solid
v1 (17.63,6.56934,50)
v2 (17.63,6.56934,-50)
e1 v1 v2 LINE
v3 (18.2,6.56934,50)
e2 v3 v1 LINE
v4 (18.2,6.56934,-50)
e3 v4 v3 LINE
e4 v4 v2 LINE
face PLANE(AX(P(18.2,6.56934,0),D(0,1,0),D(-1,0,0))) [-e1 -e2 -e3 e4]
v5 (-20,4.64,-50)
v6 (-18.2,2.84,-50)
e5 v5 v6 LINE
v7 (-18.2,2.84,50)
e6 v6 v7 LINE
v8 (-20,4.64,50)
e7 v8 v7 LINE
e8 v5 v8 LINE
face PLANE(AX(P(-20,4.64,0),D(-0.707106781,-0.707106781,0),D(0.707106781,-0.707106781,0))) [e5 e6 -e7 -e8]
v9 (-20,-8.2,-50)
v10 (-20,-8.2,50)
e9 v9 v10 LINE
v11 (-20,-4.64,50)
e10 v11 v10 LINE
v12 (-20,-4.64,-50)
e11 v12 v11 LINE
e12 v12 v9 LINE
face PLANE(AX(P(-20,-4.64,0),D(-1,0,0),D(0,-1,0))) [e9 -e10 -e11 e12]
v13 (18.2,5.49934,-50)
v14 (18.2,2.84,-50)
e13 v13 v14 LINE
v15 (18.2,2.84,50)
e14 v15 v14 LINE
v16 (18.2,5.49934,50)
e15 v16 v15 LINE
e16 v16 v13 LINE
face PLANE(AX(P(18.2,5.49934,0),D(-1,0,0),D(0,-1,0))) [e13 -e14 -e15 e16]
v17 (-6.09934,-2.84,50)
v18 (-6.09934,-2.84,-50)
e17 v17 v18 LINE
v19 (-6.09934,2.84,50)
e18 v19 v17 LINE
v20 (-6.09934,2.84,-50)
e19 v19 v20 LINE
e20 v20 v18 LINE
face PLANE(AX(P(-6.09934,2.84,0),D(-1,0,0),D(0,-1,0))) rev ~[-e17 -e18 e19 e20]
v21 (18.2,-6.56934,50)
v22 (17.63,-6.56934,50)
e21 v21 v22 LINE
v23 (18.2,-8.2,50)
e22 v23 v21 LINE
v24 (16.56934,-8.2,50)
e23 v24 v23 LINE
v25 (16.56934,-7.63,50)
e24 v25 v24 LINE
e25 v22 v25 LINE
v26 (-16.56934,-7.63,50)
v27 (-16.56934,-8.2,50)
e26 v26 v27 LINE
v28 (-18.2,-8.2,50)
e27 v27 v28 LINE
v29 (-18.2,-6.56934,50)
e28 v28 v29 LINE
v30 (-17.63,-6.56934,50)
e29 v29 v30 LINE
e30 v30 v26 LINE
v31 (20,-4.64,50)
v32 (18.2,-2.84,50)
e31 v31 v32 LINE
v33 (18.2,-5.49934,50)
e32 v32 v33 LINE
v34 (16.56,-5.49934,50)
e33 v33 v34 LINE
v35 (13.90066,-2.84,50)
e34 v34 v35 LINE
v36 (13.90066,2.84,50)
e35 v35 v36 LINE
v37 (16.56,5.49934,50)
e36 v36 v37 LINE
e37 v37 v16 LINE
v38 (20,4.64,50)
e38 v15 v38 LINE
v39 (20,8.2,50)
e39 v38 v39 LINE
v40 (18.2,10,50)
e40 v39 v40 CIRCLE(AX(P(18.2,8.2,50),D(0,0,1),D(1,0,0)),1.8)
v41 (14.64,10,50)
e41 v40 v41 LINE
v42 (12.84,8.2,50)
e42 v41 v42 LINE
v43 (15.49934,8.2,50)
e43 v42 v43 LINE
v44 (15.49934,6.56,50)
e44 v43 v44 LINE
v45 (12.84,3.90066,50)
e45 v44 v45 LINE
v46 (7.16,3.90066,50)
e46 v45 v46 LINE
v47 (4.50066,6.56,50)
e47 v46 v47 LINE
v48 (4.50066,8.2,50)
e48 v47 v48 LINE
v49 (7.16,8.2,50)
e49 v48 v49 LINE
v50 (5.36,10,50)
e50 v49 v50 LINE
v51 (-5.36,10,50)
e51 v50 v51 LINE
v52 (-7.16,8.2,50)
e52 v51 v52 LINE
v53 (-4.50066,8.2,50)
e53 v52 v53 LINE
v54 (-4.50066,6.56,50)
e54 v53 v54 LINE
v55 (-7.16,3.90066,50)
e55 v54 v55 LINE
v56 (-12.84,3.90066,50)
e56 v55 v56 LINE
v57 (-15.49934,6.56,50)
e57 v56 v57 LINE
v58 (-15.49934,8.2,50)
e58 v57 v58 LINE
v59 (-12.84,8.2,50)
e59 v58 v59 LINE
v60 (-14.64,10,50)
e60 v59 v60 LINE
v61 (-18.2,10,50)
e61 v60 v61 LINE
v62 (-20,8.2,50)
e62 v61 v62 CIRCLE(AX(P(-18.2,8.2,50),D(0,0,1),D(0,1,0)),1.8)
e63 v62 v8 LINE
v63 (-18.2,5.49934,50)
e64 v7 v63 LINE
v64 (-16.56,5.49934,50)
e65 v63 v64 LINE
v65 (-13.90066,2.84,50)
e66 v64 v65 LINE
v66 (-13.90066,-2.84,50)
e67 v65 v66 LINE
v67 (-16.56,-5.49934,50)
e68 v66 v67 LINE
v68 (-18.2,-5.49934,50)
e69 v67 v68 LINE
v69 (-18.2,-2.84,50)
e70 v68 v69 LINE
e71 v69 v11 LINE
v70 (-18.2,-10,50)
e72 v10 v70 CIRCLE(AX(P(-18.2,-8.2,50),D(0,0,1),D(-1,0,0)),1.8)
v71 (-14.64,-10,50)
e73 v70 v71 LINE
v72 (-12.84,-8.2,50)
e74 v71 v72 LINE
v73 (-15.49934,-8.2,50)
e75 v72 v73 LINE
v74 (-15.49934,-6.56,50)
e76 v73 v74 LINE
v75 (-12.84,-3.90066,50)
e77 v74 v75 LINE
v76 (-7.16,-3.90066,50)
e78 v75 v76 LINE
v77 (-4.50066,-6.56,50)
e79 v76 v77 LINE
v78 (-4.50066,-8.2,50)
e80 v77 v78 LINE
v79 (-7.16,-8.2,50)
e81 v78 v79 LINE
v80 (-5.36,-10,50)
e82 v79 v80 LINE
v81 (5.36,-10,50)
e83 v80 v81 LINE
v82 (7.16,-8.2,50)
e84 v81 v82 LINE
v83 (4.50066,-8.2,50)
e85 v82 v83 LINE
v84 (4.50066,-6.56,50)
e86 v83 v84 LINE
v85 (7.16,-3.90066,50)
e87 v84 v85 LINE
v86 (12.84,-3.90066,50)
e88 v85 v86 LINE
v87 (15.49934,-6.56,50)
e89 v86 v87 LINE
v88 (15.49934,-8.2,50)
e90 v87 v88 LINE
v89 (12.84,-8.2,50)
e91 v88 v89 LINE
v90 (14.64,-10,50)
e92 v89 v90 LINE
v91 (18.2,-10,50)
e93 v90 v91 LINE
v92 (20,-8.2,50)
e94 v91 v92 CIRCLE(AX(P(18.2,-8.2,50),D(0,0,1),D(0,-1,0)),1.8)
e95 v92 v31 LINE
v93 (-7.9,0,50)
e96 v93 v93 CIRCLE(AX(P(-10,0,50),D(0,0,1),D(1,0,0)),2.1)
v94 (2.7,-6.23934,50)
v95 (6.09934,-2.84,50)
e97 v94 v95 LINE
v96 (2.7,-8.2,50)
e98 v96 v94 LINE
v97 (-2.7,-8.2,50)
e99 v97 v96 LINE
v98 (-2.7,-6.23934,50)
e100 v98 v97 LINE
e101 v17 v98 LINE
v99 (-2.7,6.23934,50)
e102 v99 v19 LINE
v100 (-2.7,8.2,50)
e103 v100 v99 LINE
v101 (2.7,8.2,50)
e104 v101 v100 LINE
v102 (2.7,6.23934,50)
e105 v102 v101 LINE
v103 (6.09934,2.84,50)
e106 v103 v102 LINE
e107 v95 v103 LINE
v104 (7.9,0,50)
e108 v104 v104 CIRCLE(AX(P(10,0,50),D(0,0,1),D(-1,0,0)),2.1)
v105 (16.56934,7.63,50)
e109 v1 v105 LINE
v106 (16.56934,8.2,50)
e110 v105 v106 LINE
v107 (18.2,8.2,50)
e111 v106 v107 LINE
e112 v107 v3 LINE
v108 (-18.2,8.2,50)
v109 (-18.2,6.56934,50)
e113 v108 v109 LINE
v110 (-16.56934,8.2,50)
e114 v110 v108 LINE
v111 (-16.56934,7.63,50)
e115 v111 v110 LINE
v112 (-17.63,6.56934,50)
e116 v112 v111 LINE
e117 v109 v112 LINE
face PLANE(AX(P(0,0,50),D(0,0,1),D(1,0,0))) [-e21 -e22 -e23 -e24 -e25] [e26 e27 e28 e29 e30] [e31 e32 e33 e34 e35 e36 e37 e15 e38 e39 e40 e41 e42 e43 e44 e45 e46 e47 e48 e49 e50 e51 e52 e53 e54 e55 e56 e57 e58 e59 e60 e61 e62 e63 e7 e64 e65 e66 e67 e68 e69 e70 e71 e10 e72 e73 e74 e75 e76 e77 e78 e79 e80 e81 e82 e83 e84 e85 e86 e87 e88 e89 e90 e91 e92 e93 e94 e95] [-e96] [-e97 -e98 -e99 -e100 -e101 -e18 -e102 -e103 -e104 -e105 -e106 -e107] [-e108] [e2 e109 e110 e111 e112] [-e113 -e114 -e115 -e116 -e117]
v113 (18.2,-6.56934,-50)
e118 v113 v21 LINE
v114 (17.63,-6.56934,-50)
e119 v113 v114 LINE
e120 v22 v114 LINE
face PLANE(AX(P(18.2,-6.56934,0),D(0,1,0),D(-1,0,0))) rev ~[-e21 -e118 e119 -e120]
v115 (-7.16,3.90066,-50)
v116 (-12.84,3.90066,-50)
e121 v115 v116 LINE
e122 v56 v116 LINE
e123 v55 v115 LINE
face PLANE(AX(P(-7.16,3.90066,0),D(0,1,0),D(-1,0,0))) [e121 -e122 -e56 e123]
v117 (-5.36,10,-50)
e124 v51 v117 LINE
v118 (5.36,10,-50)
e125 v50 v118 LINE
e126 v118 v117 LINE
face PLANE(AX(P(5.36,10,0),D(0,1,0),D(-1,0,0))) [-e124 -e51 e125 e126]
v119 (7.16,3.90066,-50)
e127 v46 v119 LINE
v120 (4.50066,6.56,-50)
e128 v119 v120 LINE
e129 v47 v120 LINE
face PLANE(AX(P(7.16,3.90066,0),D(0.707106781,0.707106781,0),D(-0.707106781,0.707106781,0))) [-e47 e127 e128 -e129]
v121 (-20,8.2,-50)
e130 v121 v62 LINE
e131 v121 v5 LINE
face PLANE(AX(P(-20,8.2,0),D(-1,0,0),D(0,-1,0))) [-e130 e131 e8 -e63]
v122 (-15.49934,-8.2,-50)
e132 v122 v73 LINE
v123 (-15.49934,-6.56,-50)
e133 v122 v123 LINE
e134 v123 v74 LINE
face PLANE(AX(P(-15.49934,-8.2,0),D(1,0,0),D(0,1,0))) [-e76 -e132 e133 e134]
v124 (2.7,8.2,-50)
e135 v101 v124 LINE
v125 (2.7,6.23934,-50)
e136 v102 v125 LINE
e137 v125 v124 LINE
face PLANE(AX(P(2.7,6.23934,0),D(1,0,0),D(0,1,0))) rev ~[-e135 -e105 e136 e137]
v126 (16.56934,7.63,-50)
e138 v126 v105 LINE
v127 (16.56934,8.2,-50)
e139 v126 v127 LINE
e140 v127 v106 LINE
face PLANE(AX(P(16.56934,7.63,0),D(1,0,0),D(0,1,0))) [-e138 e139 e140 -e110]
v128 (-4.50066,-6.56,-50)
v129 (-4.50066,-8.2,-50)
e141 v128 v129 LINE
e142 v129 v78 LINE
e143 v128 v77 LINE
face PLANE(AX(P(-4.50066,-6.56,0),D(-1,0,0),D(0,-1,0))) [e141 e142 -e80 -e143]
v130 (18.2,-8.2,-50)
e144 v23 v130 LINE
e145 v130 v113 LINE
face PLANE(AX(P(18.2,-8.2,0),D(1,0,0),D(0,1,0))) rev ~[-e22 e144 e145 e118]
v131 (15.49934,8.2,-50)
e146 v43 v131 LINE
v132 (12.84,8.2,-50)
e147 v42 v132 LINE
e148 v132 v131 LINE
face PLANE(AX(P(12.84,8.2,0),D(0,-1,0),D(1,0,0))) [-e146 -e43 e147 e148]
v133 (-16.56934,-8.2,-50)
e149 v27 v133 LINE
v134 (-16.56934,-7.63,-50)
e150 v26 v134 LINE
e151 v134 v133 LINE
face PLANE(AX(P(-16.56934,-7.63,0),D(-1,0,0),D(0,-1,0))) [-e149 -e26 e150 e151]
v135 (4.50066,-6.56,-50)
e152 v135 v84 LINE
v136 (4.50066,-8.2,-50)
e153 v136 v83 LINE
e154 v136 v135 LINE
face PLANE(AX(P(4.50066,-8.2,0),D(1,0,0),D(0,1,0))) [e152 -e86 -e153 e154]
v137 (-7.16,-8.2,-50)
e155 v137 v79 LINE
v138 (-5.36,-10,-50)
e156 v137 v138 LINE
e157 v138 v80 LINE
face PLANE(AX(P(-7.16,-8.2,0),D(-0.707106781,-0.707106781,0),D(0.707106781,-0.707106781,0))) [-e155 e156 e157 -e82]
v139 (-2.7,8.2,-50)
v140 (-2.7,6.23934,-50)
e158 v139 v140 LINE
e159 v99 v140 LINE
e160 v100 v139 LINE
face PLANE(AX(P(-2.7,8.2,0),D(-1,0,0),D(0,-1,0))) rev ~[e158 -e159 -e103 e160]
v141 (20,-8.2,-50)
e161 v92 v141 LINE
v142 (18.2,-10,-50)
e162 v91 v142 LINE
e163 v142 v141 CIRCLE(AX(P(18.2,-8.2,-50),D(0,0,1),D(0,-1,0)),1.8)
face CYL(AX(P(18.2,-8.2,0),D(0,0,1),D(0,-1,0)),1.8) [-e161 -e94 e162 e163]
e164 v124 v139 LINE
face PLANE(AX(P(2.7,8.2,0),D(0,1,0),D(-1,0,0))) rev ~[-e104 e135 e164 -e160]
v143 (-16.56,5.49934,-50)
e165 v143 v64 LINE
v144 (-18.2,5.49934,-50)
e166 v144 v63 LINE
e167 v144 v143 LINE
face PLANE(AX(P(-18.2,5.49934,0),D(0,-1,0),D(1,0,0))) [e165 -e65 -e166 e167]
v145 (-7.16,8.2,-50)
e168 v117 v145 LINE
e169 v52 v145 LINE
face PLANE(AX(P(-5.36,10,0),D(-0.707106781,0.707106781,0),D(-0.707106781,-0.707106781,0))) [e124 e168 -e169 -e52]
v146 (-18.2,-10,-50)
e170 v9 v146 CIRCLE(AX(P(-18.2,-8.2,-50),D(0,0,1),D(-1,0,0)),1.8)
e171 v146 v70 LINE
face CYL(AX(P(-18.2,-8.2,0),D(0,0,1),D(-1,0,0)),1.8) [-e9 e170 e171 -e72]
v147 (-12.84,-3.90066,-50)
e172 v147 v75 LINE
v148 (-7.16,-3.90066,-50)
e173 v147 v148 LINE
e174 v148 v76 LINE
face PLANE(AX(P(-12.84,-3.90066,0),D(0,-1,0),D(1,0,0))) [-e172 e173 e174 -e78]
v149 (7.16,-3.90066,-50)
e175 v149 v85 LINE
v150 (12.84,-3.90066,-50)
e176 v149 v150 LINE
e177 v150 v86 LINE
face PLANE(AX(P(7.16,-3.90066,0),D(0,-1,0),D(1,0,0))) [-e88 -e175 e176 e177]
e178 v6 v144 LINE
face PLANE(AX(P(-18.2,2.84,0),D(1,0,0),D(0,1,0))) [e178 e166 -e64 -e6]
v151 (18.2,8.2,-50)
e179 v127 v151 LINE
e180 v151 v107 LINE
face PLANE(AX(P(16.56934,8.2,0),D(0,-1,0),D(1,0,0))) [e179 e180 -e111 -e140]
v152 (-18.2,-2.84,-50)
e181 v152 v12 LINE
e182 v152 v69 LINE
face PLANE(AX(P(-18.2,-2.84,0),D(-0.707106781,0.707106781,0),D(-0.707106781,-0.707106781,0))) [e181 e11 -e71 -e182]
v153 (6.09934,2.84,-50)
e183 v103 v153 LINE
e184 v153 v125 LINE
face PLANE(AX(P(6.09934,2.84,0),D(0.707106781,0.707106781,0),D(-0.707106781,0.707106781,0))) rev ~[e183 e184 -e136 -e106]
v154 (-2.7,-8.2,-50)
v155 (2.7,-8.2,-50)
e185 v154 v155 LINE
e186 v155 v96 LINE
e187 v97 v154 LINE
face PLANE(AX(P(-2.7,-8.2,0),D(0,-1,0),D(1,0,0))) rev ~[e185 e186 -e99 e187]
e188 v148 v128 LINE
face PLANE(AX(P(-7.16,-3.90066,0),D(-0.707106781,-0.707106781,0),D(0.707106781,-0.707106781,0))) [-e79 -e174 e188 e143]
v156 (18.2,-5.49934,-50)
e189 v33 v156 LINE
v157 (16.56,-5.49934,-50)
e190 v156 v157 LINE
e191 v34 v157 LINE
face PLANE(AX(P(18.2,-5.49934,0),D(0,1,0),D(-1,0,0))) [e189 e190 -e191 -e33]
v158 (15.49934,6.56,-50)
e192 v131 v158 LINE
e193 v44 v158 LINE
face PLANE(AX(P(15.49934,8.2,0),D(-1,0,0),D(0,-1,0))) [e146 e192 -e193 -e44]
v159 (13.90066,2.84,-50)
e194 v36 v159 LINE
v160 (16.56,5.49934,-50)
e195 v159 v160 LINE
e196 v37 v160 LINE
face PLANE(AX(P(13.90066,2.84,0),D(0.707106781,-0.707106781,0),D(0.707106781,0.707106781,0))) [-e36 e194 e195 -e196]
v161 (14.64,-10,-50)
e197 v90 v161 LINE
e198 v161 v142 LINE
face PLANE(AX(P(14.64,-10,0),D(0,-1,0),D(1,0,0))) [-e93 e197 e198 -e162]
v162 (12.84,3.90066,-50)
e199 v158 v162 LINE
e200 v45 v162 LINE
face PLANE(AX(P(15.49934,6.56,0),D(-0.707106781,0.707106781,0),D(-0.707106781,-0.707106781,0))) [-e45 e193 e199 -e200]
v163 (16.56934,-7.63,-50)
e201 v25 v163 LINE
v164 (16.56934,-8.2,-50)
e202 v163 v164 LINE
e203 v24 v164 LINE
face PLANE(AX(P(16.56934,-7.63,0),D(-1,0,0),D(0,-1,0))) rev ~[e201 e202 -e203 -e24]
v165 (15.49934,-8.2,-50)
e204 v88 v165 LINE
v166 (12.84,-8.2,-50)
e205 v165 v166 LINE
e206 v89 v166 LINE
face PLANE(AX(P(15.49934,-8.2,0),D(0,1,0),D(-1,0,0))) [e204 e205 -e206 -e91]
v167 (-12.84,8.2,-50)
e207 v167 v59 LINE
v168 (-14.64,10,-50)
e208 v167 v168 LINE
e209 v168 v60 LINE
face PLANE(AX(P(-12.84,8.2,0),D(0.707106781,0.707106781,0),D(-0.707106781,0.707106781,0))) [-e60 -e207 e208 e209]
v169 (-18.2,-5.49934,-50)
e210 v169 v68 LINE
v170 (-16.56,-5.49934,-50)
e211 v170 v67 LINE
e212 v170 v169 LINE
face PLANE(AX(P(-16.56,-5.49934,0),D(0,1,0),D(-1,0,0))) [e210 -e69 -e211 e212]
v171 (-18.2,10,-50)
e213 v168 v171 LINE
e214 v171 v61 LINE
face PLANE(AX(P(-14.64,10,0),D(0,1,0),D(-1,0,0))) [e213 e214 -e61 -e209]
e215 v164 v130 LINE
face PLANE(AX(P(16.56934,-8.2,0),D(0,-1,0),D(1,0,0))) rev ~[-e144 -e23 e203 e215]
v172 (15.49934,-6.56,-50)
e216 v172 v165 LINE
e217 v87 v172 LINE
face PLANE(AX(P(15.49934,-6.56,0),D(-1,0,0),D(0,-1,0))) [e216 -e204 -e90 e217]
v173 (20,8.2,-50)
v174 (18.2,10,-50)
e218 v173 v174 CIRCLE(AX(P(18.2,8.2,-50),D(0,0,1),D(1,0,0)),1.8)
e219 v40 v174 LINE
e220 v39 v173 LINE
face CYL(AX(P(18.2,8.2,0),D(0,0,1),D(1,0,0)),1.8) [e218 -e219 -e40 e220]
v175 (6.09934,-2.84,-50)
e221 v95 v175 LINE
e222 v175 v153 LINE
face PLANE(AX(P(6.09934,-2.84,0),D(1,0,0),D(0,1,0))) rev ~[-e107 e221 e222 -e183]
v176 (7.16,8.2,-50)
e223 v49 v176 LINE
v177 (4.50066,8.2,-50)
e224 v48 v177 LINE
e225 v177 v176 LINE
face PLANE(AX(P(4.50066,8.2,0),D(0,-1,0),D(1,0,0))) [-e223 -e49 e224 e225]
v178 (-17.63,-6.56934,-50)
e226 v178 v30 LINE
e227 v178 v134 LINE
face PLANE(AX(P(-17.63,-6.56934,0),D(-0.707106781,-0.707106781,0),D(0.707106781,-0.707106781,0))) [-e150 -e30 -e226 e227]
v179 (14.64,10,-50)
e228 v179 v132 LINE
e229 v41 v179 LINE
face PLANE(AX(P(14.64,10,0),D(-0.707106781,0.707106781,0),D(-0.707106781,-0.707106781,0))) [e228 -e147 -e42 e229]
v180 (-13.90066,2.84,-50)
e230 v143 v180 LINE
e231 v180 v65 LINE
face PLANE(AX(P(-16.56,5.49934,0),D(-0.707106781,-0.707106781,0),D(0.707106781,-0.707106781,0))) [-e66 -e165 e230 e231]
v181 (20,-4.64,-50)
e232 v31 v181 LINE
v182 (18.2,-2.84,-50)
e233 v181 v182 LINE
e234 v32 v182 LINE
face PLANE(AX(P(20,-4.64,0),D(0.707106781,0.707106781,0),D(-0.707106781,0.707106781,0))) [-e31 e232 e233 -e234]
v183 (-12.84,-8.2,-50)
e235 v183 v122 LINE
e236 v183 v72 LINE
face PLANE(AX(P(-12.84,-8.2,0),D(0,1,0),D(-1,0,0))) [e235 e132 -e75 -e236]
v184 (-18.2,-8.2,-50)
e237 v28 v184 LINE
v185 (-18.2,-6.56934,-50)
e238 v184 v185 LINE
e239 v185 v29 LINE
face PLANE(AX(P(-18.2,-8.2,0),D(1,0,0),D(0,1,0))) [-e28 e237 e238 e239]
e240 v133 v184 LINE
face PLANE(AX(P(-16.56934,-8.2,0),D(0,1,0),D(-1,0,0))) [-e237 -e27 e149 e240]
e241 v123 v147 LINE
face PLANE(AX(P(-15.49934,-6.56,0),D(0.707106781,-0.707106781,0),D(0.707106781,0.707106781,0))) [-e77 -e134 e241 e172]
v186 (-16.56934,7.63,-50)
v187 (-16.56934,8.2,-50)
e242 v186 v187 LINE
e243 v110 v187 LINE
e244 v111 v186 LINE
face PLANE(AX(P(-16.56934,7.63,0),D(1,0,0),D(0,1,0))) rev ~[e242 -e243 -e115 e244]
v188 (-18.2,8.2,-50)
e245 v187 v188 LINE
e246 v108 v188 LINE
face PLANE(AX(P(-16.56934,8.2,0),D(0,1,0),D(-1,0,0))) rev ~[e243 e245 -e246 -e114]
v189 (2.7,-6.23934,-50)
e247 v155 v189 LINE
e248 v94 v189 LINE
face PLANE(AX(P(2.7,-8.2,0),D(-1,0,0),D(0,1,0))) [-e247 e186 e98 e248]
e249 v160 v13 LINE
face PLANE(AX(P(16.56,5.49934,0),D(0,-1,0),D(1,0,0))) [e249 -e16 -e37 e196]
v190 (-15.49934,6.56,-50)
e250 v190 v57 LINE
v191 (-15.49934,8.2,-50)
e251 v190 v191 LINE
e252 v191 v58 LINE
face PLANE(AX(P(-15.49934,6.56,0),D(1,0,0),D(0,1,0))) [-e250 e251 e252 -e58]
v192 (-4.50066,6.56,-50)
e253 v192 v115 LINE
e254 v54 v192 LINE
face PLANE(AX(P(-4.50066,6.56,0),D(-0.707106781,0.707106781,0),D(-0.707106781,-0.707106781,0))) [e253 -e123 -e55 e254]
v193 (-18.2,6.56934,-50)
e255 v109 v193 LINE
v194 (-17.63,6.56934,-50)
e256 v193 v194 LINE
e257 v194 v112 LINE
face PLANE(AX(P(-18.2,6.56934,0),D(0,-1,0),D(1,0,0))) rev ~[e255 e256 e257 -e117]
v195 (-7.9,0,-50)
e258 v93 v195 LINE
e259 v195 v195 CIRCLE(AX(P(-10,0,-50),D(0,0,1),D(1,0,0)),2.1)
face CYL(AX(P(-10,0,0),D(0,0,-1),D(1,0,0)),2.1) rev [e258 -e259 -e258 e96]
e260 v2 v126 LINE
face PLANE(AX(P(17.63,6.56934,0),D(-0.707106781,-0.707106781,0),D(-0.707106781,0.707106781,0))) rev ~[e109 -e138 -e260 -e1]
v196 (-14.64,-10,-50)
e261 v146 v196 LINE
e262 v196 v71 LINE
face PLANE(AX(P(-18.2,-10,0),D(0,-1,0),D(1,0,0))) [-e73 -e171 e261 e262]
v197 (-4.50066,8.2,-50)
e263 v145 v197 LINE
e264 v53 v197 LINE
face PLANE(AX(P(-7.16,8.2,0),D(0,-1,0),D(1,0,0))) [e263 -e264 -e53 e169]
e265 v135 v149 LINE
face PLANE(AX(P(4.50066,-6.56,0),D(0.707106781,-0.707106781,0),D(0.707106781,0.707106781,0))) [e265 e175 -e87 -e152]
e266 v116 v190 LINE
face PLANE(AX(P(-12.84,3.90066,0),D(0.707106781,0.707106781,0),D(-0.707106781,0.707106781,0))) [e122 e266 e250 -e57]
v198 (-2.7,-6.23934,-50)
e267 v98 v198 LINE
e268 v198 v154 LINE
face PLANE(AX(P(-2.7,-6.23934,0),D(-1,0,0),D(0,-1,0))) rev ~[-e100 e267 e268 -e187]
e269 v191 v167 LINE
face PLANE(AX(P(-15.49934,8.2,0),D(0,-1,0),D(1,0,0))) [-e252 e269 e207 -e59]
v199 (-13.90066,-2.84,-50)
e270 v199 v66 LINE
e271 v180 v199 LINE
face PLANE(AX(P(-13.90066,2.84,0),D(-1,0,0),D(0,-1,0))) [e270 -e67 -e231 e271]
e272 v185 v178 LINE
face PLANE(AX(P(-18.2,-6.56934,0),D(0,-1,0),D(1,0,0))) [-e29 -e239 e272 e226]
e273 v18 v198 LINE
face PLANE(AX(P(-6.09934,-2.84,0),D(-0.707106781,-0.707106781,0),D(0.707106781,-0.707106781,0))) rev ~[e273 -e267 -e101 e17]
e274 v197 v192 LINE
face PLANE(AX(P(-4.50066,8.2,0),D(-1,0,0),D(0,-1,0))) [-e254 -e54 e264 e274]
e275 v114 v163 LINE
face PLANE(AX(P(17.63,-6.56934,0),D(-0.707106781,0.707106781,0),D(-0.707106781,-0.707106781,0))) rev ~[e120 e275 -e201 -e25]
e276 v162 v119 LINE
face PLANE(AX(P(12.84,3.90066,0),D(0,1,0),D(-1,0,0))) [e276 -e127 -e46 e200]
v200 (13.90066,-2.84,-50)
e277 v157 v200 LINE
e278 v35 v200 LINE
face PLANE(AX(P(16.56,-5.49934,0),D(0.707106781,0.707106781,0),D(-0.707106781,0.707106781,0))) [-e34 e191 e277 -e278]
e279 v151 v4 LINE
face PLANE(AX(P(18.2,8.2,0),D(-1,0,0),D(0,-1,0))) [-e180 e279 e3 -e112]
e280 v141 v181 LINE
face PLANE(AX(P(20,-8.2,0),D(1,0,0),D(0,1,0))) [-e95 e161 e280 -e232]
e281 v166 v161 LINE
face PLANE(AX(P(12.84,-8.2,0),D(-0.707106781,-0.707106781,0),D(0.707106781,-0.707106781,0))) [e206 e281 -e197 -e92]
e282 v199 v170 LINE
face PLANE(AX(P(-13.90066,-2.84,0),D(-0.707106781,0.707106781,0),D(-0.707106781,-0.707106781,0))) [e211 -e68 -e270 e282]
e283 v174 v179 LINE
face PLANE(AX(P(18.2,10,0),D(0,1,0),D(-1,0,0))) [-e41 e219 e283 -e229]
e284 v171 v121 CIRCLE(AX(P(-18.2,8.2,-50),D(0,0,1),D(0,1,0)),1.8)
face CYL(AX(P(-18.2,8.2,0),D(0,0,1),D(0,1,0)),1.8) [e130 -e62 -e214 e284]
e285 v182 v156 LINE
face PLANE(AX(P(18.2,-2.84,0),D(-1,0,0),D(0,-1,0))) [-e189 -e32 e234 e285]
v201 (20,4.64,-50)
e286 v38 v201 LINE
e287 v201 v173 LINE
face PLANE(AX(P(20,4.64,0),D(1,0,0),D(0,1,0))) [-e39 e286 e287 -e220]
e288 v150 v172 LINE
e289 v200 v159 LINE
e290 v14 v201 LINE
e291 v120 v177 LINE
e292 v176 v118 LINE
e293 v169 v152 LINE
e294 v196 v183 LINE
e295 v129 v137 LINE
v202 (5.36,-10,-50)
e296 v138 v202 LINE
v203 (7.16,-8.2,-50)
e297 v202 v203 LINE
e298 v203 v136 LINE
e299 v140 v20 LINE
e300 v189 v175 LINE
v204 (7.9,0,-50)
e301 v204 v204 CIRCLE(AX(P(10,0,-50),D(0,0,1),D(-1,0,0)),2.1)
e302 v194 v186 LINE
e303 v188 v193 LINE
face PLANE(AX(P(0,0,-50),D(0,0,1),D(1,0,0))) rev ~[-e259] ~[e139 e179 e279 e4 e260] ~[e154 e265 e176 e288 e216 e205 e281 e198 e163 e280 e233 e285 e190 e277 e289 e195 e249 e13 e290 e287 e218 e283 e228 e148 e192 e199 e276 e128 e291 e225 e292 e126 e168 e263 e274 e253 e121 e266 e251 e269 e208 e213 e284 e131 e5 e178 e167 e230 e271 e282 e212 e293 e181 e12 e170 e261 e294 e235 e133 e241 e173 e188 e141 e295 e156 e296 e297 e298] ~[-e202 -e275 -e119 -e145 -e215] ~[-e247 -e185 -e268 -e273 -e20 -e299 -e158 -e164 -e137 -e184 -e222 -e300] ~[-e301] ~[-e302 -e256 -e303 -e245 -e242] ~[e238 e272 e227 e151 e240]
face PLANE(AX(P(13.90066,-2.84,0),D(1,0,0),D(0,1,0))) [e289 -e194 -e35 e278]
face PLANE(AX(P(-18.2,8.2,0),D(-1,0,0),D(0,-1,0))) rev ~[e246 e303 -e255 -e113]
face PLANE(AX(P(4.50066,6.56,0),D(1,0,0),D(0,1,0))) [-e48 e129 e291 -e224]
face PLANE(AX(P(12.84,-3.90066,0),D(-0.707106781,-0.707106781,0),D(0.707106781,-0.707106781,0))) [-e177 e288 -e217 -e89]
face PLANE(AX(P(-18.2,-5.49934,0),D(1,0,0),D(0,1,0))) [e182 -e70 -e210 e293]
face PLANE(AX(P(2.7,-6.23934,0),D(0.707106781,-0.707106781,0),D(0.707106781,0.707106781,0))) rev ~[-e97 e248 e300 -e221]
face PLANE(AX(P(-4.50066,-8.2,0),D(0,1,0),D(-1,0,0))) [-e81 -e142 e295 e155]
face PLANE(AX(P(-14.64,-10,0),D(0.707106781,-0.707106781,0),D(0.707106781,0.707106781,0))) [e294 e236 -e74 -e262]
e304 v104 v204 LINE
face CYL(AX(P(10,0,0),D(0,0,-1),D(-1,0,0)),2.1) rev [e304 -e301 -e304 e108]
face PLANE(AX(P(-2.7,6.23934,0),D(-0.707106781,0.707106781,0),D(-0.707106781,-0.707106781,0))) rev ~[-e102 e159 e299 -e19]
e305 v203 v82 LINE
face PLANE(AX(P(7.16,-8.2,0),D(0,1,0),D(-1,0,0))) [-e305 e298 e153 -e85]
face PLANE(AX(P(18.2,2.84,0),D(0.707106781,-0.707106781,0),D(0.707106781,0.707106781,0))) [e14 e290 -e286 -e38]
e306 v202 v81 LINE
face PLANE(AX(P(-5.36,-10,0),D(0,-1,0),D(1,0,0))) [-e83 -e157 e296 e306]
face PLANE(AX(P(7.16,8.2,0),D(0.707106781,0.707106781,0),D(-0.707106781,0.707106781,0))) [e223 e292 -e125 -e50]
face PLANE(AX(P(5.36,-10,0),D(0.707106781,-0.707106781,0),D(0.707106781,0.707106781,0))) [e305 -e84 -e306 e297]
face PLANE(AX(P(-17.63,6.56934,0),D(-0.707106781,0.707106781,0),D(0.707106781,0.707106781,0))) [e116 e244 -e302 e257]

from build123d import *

# Parameters (mm, degrees)
ESQUISSE1_R        = 2.1
BOSS_EXTRU_1_DEPTH = 50


with BuildPart() as part:
    # Esquisse1 → Boss.-Extru.1 (new, symmetric)
    with BuildSketch(Plane.XY):
        with BuildLine():
            Line((-10, 3.900660172), (-12.84, 3.900660172))
            Line((-12.84, 3.900660172), (-15.499339828, 6.56))
            Line((-15.499339828, 6.56), (-15.499339828, 8.2))
            Line((-15.499339828, 8.2), (-12.84, 8.2))
            Line((-12.84, 8.2), (-14.64, 10))
            Line((-14.64, 10), (-18.2, 10))
            ThreePointArc((-18.2, 10), (-19.472792206, 9.472792206), (-20, 8.2))
            Line((-20, 8.2), (-20, 4.64))
            Line((-20, 4.64), (-18.2, 2.84))
            Line((-18.2, 2.84), (-18.2, 5.499339828))
            Line((-18.2, 5.499339828), (-16.56, 5.499339828))
            Line((-16.56, 5.499339828), (-13.900660172, 2.84))
            Line((-13.900660172, 2.84), (-13.900660172, 0))
            Line((-13.900660172, 0), (-13.900660172, -2.84))
            Line((-13.900660172, -2.84), (-16.56, -5.499339828))
            Line((-16.56, -5.499339828), (-18.2, -5.499339828))
            Line((-18.2, -5.499339828), (-18.2, -2.84))
            Line((-18.2, -2.84), (-20, -4.64))
            Line((-20, -4.64), (-20, -8.2))
            ThreePointArc((-20, -8.2), (-19.472792206, -9.472792206), (-18.2, -10))
            Line((-18.2, -10), (-14.64, -10))
            Line((-14.64, -10), (-12.84, -8.2))
            Line((-12.84, -8.2), (-15.499339828, -8.2))
            Line((-15.499339828, -8.2), (-15.499339828, -6.56))
            Line((-15.499339828, -6.56), (-12.84, -3.900660172))
            Line((-12.84, -3.900660172), (-10, -3.900660172))
            Line((-10, -3.900660172), (-7.16, -3.900660172))
            Line((-7.16, -3.900660172), (-4.500660172, -6.56))
            Line((-4.500660172, -6.56), (-4.500660172, -8.2))
            Line((-4.500660172, -8.2), (-7.16, -8.2))
            Line((-7.16, -8.2), (-5.36, -10))
            Line((-5.36, -10), (5.36, -10))
            Line((5.36, -10), (7.16, -8.2))
            Line((7.16, -8.2), (4.500660172, -8.2))
            Line((4.500660172, -8.2), (4.500660172, -6.56))
            Line((4.500660172, -6.56), (7.16, -3.900660172))
            Line((7.16, -3.900660172), (10, -3.900660172))
            Line((10, -3.900660172), (12.84, -3.900660172))
            Line((12.84, -3.900660172), (15.499339828, -6.56))
            Line((15.499339828, -6.56), (15.499339828, -8.2))
            Line((15.499339828, -8.2), (12.84, -8.2))
            Line((12.84, -8.2), (14.64, -10))
            Line((14.64, -10), (18.2, -10))
            ThreePointArc((18.2, -10), (19.472792206, -9.472792206), (20, -8.2))
            Line((20, -8.2), (20, -4.64))
            Line((20, -4.64), (18.2, -2.84))
            Line((18.2, -2.84), (18.2, -5.499339828))
            Line((18.2, -5.499339828), (16.56, -5.499339828))
            Line((16.56, -5.499339828), (13.900660172, -2.84))
            Line((13.900660172, -2.84), (13.900660172, 0))
            Line((13.900660172, 0), (13.900660172, 2.84))
            Line((13.900660172, 2.84), (16.56, 5.499339828))
            Line((16.56, 5.499339828), (18.2, 5.499339828))
            Line((18.2, 5.499339828), (18.2, 2.84))
            Line((18.2, 2.84), (20, 4.64))
            Line((20, 4.64), (20, 8.2))
            ThreePointArc((20, 8.2), (19.472792206, 9.472792206), (18.2, 10))
            Line((18.2, 10), (14.64, 10))
            Line((14.64, 10), (12.84, 8.2))
            Line((12.84, 8.2), (15.499339828, 8.2))
            Line((15.499339828, 8.2), (15.499339828, 6.56))
            Line((15.499339828, 6.56), (12.84, 3.900660172))
            Line((12.84, 3.900660172), (10, 3.900660172))
            Line((10, 3.900660172), (7.16, 3.900660172))
            Line((7.16, 3.900660172), (4.500660172, 6.56))
            Line((4.500660172, 6.56), (4.500660172, 8.2))
            Line((4.500660172, 8.2), (7.16, 8.2))
            Line((7.16, 8.2), (5.36, 10))
            Line((5.36, 10), (-5.36, 10))
            Line((-5.36, 10), (-7.16, 8.2))
            Line((-7.16, 8.2), (-4.500660172, 8.2))
            Line((-4.500660172, 8.2), (-4.500660172, 6.56))
            Line((-4.500660172, 6.56), (-7.16, 3.900660172))
            Line((-7.16, 3.900660172), (-10, 3.900660172))
        make_face()
        with Locations((-10, 0)):
            Circle(ESQUISSE1_R, mode=Mode.SUBTRACT)
        with Locations(Location((10, 0, 0), (0, 0, 180))):
            Circle(ESQUISSE1_R, mode=Mode.SUBTRACT)
        Polygon((-2.7, 8.2), (-2.7, 6.239339828), (-6.099339828, 2.84), (-6.099339828, -2.84), (-2.7, -6.239339828), (-2.7, -8.2), (2.7, -8.2), (2.7, -6.239339828), (6.099339828, -2.84), (6.099339828, 2.84), (2.7, 6.239339828), (2.7, 8.2), align=None, mode=Mode.SUBTRACT)
        Polygon((-18.2, 8.2), (-18.2, 6.569339828), (-17.63, 6.569339828), (-16.569339828, 7.63), (-16.569339828, 8.2), align=None, mode=Mode.SUBTRACT)
        Polygon((-18.2, -6.569339828), (-17.63, -6.569339828), (-16.569339828, -7.63), (-16.569339828, -8.2), (-18.2, -8.2), align=None, mode=Mode.SUBTRACT)
        Polygon((18.2, 6.569339828), (17.63, 6.569339828), (16.569339828, 7.63), (16.569339828, 8.2), (18.2, 8.2), align=None, mode=Mode.SUBTRACT)
        Polygon((18.2, -6.569339828), (17.63, -6.569339828), (16.569339828, -7.63), (16.569339828, -8.2), (18.2, -8.2), align=None, mode=Mode.SUBTRACT)
    extrude(amount=BOSS_EXTRU_1_DEPTH, both=True)


solid = part.part
